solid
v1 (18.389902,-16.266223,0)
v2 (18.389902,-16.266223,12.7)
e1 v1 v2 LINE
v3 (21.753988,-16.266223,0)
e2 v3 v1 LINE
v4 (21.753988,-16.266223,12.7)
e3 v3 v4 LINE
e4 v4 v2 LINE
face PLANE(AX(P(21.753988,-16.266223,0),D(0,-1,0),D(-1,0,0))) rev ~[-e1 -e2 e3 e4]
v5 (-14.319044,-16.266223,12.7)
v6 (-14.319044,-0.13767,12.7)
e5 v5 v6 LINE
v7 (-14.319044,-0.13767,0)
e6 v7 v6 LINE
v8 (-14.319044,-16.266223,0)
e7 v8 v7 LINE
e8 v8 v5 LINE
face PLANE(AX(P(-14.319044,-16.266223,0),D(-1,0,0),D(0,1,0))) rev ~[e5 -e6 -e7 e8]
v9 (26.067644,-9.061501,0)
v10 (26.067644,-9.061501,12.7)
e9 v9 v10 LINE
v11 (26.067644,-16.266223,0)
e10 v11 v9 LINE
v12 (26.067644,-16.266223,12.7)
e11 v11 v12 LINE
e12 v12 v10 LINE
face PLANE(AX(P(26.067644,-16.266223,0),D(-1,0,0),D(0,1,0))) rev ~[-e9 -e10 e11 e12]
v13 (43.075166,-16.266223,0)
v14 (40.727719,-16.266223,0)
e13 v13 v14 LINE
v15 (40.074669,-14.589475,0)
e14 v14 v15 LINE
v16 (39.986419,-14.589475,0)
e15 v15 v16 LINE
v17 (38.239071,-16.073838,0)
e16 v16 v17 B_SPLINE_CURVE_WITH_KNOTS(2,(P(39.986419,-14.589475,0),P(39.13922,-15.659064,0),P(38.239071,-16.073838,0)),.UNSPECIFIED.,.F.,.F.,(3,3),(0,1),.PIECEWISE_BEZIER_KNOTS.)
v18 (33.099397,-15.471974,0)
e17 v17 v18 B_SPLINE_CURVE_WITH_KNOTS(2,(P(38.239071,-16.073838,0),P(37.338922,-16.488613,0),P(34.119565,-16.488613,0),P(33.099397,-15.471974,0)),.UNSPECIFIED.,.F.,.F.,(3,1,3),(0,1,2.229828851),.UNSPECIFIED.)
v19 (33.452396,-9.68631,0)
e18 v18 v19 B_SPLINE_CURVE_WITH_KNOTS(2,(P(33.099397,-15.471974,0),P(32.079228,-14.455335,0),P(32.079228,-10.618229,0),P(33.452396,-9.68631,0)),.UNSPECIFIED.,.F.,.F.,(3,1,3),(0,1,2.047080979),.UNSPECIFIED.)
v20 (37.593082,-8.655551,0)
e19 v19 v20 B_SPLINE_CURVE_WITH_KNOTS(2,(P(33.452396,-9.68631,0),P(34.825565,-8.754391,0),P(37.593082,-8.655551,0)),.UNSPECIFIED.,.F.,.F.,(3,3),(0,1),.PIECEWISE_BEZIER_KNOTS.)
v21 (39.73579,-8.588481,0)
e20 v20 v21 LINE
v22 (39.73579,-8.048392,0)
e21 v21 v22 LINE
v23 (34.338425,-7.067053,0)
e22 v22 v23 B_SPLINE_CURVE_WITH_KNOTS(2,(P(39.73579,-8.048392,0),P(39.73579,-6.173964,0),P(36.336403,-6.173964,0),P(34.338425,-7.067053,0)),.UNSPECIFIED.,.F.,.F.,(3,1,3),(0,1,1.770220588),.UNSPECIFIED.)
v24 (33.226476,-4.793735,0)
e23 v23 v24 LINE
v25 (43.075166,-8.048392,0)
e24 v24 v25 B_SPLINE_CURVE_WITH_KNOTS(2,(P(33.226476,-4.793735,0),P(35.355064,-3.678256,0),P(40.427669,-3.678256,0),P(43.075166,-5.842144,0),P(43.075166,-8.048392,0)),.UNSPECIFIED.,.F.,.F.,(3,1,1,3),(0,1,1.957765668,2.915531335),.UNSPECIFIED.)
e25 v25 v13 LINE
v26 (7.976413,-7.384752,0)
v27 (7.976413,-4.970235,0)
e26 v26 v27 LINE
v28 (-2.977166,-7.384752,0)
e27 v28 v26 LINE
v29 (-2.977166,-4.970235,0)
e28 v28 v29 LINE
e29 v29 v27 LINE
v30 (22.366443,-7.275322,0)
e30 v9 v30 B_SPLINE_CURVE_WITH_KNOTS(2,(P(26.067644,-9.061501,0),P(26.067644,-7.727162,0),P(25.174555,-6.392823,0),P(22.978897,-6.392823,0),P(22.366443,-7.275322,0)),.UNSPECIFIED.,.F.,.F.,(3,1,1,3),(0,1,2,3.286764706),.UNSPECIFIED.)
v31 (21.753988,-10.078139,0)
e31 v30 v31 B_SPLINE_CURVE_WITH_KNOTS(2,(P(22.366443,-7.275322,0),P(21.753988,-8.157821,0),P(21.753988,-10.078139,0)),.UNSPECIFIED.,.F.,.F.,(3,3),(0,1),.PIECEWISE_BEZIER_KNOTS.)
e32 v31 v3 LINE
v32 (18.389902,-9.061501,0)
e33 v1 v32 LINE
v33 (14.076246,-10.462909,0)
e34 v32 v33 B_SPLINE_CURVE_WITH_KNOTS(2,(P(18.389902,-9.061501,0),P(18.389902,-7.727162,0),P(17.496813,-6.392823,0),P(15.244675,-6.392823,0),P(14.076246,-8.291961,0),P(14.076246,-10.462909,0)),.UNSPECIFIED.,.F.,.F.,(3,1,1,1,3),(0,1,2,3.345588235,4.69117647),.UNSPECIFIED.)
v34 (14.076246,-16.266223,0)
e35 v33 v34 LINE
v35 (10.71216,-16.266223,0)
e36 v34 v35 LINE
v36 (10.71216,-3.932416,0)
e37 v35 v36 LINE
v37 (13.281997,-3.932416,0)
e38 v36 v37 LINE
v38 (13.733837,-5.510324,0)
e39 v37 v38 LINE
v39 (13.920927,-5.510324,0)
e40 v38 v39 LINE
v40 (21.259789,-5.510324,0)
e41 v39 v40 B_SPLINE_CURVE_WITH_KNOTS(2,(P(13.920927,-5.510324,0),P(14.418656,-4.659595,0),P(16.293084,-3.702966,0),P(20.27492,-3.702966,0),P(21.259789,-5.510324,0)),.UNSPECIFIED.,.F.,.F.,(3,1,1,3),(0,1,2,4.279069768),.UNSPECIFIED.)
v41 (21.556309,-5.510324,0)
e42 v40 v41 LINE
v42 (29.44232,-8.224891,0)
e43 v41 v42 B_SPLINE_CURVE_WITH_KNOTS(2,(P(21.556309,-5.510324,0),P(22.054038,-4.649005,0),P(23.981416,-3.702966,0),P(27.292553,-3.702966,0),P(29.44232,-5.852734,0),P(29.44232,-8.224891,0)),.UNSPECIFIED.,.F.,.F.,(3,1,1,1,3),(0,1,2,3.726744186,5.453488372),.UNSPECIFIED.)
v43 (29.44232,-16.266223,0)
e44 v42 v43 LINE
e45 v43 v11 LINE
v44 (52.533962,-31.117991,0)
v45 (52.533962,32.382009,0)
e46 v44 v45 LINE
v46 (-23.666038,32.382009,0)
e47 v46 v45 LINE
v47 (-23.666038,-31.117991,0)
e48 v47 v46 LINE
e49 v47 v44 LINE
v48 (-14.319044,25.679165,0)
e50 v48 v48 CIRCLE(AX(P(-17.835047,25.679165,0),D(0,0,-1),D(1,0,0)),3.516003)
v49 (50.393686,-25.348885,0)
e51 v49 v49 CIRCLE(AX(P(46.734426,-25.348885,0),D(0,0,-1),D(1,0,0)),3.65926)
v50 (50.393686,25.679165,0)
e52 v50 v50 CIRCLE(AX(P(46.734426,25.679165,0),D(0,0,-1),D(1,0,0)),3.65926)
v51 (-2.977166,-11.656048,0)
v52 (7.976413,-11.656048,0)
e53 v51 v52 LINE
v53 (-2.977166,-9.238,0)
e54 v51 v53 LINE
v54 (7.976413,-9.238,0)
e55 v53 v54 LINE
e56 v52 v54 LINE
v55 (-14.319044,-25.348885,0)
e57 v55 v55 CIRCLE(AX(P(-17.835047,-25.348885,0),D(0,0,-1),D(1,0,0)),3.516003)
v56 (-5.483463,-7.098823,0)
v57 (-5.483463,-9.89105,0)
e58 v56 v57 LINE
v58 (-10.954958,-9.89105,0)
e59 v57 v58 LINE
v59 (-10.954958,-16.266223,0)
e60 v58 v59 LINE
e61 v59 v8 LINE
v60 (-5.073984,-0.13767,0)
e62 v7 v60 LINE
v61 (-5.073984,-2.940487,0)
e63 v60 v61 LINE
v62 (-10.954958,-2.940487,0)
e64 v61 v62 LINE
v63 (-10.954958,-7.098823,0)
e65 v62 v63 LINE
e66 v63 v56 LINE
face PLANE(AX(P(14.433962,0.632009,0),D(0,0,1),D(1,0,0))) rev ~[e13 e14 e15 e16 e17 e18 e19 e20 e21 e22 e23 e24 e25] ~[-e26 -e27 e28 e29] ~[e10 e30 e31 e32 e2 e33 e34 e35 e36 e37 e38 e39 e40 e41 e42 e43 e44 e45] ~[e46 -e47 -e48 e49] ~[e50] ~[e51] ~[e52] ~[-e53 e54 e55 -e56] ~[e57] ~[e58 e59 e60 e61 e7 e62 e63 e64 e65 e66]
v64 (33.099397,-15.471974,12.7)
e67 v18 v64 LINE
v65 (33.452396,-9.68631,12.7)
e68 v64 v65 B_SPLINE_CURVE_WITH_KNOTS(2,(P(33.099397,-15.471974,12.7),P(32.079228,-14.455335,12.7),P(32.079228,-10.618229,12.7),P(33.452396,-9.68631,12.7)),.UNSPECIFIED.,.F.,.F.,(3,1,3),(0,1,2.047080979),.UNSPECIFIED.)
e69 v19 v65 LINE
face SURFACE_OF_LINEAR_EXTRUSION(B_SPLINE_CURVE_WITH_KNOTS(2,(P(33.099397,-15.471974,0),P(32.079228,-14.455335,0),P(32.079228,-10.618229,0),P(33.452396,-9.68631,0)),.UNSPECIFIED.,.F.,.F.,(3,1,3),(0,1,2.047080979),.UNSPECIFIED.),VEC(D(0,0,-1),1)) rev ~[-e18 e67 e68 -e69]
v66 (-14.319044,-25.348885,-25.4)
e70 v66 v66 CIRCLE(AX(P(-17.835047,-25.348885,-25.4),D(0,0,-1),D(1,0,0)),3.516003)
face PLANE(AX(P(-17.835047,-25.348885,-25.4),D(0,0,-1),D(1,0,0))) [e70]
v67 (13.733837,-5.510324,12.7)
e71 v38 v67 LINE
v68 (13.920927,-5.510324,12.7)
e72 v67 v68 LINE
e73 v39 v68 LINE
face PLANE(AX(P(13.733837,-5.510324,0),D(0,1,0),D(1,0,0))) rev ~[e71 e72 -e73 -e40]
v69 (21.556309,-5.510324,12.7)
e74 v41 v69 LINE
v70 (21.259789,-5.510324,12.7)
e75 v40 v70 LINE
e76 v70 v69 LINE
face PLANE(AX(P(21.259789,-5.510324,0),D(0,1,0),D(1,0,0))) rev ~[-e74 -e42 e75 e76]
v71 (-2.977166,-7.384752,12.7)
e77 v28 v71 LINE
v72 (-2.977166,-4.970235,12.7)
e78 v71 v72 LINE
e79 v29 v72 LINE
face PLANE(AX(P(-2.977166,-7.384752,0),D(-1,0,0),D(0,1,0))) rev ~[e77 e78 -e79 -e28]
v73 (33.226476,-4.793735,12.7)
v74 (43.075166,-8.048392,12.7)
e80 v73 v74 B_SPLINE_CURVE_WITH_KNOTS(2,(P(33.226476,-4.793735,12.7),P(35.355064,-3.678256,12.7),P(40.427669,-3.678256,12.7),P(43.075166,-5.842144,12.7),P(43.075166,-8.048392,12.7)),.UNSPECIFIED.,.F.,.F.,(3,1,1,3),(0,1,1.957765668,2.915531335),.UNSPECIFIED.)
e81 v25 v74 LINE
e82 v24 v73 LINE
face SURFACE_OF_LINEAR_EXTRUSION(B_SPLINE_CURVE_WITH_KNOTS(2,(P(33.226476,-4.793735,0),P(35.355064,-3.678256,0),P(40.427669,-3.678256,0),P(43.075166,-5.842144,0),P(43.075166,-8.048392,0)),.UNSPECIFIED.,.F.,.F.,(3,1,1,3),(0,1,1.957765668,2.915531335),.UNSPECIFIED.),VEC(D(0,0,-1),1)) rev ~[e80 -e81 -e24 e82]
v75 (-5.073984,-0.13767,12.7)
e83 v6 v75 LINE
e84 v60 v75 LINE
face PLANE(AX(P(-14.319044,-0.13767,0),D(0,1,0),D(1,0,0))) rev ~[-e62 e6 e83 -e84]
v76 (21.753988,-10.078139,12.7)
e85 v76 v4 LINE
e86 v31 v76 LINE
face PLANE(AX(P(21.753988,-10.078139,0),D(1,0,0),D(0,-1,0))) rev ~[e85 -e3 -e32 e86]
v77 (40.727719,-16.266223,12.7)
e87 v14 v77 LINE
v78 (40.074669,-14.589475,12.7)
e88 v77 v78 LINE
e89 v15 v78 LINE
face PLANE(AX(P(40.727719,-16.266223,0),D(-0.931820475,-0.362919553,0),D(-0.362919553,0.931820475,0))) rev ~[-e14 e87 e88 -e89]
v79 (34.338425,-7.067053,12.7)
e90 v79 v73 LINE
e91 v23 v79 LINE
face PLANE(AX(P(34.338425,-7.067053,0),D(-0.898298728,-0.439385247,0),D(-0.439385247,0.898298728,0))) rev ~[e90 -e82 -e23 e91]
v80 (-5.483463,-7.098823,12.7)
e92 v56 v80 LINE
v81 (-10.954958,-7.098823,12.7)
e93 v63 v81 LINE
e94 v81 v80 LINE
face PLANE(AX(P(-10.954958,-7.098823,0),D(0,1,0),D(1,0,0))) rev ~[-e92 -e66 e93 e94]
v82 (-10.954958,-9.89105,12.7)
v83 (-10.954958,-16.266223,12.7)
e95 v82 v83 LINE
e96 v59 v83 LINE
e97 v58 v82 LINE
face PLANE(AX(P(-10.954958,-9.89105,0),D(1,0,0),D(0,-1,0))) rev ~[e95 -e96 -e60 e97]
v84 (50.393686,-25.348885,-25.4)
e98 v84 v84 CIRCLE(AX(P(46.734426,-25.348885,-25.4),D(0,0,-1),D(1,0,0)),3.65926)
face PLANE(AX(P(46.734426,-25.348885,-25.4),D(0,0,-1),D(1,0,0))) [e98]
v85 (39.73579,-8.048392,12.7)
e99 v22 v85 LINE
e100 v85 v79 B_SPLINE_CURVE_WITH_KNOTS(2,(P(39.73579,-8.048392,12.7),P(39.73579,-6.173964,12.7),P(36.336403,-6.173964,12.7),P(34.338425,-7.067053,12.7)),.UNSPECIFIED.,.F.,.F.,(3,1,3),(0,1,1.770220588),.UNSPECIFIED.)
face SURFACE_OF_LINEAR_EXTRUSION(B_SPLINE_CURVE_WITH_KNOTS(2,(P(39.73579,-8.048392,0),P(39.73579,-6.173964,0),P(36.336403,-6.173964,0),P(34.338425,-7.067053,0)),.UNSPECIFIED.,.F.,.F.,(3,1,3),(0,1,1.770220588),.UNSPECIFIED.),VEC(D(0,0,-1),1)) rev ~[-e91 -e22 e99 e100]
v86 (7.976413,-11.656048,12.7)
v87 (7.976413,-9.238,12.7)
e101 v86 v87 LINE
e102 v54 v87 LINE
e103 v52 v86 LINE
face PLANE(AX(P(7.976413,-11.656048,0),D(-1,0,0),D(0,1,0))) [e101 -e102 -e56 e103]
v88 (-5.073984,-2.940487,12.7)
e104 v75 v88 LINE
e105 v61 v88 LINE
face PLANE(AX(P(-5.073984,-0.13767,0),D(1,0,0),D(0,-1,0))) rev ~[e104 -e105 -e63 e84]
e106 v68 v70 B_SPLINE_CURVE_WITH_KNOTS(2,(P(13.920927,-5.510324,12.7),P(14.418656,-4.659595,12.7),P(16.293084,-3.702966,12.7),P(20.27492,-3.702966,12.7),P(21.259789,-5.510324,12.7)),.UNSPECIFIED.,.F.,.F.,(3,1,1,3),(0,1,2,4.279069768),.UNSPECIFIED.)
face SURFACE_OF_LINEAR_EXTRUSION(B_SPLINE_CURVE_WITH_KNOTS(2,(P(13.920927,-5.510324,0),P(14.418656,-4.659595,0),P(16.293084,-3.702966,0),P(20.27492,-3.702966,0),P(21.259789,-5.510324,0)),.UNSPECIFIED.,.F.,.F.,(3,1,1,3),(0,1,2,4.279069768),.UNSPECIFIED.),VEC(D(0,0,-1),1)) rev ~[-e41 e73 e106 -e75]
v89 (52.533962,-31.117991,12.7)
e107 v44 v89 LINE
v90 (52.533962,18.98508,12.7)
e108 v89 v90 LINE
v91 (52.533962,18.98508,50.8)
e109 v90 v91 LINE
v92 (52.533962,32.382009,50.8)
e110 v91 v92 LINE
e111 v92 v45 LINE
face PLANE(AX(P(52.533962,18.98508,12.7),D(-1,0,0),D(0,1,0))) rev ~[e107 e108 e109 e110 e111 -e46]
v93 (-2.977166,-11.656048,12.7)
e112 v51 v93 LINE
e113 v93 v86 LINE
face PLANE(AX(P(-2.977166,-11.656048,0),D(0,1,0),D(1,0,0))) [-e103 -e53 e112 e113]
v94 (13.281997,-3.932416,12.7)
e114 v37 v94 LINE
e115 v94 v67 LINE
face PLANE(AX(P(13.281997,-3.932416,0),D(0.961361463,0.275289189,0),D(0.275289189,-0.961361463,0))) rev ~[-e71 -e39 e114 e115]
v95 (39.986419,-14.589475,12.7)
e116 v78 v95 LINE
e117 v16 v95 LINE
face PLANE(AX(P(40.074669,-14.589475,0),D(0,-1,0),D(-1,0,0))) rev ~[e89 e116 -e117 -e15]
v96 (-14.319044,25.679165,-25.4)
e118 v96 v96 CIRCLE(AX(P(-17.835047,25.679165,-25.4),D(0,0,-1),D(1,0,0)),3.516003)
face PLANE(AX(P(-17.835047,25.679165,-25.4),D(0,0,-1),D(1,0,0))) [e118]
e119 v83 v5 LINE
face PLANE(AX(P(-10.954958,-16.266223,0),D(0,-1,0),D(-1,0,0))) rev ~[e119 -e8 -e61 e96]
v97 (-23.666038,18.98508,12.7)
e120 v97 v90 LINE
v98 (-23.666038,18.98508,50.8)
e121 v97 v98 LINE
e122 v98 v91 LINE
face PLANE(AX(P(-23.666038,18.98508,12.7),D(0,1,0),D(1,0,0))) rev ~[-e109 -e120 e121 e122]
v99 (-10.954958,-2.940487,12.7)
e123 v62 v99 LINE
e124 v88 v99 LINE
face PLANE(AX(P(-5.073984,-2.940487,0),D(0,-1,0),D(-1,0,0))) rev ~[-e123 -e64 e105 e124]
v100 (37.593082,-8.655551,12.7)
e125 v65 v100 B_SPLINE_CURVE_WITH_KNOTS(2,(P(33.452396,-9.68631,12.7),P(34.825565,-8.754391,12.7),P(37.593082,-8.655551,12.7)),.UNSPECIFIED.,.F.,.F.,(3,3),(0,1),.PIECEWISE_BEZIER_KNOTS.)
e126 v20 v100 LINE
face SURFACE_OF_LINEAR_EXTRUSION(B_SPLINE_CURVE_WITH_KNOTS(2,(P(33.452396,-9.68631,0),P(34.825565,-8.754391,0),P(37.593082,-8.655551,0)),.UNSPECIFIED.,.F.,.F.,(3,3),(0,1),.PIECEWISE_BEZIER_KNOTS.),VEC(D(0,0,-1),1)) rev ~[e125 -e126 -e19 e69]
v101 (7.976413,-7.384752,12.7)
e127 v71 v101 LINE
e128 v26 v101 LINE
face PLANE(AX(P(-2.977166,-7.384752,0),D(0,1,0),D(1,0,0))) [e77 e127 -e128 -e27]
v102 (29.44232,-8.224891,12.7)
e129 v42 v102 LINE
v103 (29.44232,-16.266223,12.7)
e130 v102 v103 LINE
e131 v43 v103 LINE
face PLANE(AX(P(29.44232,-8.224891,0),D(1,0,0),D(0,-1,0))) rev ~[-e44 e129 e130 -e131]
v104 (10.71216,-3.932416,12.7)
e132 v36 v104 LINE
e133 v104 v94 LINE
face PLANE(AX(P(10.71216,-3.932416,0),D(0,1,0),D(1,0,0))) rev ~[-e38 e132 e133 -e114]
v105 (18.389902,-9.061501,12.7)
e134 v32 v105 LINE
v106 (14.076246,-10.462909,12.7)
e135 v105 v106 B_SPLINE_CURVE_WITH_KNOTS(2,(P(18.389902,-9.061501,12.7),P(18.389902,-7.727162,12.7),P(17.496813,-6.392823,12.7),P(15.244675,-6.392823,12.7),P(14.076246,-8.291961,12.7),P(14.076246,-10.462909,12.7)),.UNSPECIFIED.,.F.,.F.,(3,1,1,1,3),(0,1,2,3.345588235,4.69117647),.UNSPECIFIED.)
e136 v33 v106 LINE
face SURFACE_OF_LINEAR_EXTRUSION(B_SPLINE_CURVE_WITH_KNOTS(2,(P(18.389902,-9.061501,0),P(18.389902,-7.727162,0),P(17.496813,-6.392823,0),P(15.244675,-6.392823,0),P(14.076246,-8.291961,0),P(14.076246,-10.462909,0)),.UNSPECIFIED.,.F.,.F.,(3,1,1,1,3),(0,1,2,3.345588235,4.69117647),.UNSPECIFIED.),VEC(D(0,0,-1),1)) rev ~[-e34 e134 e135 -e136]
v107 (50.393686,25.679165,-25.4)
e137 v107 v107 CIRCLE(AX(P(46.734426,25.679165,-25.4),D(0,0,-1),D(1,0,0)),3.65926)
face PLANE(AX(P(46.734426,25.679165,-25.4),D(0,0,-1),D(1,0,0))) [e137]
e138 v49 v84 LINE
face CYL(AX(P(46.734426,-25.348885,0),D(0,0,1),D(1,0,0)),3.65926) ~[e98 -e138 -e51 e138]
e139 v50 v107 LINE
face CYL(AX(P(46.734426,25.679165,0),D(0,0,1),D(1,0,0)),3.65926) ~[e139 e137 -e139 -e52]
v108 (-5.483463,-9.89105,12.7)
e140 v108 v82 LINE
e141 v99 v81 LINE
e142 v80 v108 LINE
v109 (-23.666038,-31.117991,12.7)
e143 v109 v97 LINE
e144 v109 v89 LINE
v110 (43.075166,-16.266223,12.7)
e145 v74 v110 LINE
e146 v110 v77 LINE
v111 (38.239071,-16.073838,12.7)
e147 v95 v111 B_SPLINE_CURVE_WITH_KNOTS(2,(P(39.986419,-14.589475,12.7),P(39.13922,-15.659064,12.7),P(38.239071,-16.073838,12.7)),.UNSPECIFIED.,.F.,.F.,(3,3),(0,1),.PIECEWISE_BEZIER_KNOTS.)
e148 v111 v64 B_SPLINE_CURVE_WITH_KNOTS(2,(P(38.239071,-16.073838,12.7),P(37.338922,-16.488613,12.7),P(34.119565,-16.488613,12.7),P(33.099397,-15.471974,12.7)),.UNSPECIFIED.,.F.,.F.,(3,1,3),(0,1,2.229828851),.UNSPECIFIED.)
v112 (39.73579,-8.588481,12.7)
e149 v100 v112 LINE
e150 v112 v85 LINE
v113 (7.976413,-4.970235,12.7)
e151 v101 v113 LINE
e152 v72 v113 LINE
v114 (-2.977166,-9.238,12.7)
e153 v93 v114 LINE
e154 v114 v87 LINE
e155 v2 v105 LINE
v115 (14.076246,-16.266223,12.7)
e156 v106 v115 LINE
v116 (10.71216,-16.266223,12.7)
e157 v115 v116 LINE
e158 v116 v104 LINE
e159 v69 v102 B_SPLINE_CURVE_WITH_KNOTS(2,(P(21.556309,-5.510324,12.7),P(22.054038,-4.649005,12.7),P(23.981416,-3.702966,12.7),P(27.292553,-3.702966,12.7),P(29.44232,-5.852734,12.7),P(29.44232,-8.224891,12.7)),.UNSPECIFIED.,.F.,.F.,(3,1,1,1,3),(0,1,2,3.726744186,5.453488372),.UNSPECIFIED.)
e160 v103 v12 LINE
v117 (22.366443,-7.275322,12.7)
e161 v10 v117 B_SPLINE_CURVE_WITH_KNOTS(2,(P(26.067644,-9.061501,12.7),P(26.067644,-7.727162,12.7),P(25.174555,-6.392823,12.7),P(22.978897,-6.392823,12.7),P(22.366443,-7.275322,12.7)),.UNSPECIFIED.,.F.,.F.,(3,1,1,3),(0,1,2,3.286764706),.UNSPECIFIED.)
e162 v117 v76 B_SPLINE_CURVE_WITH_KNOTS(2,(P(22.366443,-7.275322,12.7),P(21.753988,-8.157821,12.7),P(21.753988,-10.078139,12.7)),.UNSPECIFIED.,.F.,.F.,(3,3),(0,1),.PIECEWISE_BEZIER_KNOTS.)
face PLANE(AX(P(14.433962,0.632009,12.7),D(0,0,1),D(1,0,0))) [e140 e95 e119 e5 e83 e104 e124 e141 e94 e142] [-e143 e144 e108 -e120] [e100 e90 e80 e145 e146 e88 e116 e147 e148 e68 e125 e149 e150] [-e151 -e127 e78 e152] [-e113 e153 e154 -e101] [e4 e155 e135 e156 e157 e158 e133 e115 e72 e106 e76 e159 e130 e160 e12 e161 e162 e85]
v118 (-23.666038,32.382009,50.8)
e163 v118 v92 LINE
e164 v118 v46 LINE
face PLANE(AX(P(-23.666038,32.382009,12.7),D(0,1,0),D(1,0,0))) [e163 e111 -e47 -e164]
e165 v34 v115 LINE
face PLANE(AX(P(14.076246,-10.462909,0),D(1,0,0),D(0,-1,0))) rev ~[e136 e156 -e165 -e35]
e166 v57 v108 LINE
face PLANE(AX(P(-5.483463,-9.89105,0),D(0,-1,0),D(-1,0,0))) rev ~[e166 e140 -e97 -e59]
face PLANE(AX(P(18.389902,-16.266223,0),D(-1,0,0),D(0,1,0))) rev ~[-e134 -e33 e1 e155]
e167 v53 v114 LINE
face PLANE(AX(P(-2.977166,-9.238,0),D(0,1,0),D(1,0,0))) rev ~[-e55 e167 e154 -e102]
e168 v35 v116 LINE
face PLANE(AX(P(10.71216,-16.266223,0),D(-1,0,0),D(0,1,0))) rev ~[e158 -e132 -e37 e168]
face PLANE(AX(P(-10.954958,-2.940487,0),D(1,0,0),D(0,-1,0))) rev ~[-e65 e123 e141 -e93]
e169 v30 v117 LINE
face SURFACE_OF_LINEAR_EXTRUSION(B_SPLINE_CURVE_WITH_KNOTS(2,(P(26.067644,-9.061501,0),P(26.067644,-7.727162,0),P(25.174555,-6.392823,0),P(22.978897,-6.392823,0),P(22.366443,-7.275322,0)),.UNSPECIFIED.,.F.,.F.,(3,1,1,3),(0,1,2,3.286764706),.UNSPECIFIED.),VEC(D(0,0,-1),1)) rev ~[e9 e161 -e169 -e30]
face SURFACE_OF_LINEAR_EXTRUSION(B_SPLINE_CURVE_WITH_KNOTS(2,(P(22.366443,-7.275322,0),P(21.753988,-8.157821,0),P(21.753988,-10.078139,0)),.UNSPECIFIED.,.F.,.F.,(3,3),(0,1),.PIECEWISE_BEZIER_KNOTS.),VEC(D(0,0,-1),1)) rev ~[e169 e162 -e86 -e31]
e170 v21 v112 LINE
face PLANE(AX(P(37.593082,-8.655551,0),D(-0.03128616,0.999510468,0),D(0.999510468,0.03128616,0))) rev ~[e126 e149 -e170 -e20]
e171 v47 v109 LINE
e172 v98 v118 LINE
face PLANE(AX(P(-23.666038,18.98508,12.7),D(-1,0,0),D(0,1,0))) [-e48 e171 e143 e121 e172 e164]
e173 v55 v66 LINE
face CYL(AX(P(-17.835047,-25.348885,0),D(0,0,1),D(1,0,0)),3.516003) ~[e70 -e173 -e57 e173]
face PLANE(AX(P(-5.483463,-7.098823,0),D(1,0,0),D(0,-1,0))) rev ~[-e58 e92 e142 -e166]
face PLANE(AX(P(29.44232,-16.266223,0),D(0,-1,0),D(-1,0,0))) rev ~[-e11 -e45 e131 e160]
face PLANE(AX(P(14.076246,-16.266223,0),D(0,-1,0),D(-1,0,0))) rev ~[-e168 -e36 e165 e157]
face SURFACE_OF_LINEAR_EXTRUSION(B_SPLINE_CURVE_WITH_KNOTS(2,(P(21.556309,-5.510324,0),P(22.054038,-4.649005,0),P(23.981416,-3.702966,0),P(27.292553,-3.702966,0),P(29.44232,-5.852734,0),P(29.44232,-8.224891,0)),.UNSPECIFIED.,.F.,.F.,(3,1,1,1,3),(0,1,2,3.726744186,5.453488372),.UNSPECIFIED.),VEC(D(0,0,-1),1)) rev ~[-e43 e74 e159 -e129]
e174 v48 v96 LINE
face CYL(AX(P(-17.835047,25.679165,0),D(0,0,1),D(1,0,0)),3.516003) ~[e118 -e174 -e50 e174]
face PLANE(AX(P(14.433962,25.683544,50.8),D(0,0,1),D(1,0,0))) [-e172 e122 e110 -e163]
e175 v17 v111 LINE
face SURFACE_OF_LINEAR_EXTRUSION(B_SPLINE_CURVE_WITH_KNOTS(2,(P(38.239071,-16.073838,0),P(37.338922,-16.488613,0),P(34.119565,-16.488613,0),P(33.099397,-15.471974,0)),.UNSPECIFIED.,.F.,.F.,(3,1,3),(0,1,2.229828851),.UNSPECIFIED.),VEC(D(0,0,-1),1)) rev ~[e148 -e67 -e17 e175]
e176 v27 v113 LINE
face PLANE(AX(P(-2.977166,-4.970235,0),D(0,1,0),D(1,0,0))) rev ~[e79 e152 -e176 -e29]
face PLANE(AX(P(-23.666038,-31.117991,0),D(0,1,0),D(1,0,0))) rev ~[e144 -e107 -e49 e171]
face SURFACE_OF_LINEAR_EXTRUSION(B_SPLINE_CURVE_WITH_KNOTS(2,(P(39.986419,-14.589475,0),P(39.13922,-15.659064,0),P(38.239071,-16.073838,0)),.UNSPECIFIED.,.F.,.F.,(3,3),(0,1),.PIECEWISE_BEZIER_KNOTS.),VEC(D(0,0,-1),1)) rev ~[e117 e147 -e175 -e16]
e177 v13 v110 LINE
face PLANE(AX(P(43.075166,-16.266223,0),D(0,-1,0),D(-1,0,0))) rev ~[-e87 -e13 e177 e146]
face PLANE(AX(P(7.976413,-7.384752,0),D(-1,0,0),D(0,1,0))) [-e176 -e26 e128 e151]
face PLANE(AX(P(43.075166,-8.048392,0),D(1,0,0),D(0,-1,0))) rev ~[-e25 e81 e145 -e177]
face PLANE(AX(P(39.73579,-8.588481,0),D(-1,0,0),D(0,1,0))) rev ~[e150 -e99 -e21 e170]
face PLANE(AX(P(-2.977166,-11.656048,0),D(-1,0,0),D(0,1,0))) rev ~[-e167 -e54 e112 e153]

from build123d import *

# Parameters (mm, degrees)
F0_W     = 76.2
F0_H     = 63.5
F0_W_2   = 10.9535785814
F0_H_2   = 2.4180474793
F0_H_3   = 2.414517483
F1_DEPTH = 12.7
F2_W     = 76.2
F2_H     = 13.3969295336
F3_DEPTH = 38.1
F4_R     = 3.6592600081
F4_R_2   = 3.5160030893
F5_DEPTH = 25.4


with BuildPart() as f1:
    # F0 (on Top) → F1 (new body)
    with BuildSketch(Plane.XY):
        with Locations((14.4339624465, 0.632009135)):
            Rectangle(F0_W, F0_H)
        Polygon((-10.9549575136, -9.891049689), (-10.9549575136, -16.2662230432), (-14.3190440067, -16.2662230432), (-14.3190440067, -0.1376698565), (-5.0739836443, -0.1376698565), (-5.0739836443, -2.9404869347), (-10.9549575136, -2.9404869347), (-10.9549575136, -7.0988225998), (-5.4834632174, -7.0988225998), (-5.4834632174, -9.891049689), align=None, mode=Mode.SUBTRACT)
        with Locations((2.4996234606, -10.4470241095)):
            Rectangle(F0_W_2, F0_H_2, mode=Mode.SUBTRACT)
        with Locations((2.4996234606, -6.1774935602)):
            Rectangle(F0_W_2, F0_H_3, mode=Mode.SUBTRACT)
        with BuildLine():
            Line((21.7539883888, -10.078139494), (21.7539883888, -16.2662230432))
            Line((21.7539883888, -16.2662230432), (18.3899018957, -16.2662230432))
            Line((18.3899018957, -16.2662230432), (18.3899018957, -9.0615005538))
            add(Edge.make_bspline(
                [(18.3899018957, -9.0615005538), (18.3899018957, -7.7271619448), (17.9433573612, -7.0599926403)],
                knots=[0, 0, 0, 1, 1, 1], degree=2))
            add(Edge.make_bspline(
                [(17.9433573612, -7.0599926403), (17.4968128267, -6.3928233358), (16.5366538276, -6.3928233358)],
                knots=[0, 0, 0, 1, 1, 1], degree=2))
            add(Edge.make_bspline(
                [(16.5366538276, -6.3928233358), (15.2446751745, -6.3928233358), (14.6604607835, -7.3423923459)],
                knots=[0, 0, 0, 1, 1, 1], degree=2))
            add(Edge.make_bspline(
                [(14.6604607835, -7.3423923459), (14.0762463925, -8.291961356), (14.0762463925, -10.4629090929)],
                knots=[0, 0, 0, 1, 1, 1], degree=2))
            Line((14.0762463925, -10.4629090929), (14.0762463925, -16.2662230432))
            Line((14.0762463925, -16.2662230432), (10.7121598994, -16.2662230432))
            Line((10.7121598994, -16.2662230432), (10.7121598994, -3.9324159006))
            Line((10.7121598994, -3.9324159006), (13.2819972205, -3.9324159006))
            Line((13.2819972205, -3.9324159006), (13.7338367495, -5.5103242557))
            Line((13.7338367495, -5.5103242557), (13.9209265544, -5.5103242557))
            add(Edge.make_bspline(
                [(13.9209265544, -5.5103242557), (14.4186560356, -4.6595951426), (15.3558700586, -4.1812806412)],
                knots=[0, 0, 0, 1, 1, 1], degree=2))
            add(Edge.make_bspline(
                [(15.3558700586, -4.1812806412), (16.2930840816, -3.7029661398), (17.5074028157, -3.7029661398)],
                knots=[0, 0, 0, 1, 1, 1], degree=2))
            add(Edge.make_bspline(
                [(17.5074028157, -3.7029661398), (20.2749199307, -3.7029661398), (21.259788904, -5.5103242557)],
                knots=[0, 0, 0, 1, 1, 1], degree=2))
            Line((21.259788904, -5.5103242557), (21.5563085949, -5.5103242557))
            add(Edge.make_bspline(
                [(21.5563085949, -5.5103242557), (22.054038076, -4.6490051536), (23.0177270714, -4.1759856467)],
                knots=[0, 0, 0, 1, 1, 1], degree=2))
            add(Edge.make_bspline(
                [(23.0177270714, -4.1759856467), (23.9814160668, -3.7029661398), (25.1957348009, -3.7029661398)],
                knots=[0, 0, 0, 1, 1, 1], degree=2))
            add(Edge.make_bspline(
                [(25.1957348009, -3.7029661398), (27.2925526151, -3.7029661398), (28.3674364946, -4.7778500193)],
                knots=[0, 0, 0, 1, 1, 1], degree=2))
            add(Edge.make_bspline(
                [(28.3674364946, -4.7778500193), (29.4423203741, -5.8527338988), (29.4423203741, -8.2248914259)],
                knots=[0, 0, 0, 1, 1, 1], degree=2))
            Line((29.4423203741, -8.2248914259), (29.4423203741, -16.2662230432))
            Line((29.4423203741, -16.2662230432), (26.067643892, -16.2662230432))
            Line((26.067643892, -16.2662230432), (26.067643892, -9.0615005538))
            add(Edge.make_bspline(
                [(26.067643892, -9.0615005538), (26.067643892, -7.7271619448), (25.6210993575, -7.0599926403)],
                knots=[0, 0, 0, 1, 1, 1], degree=2))
            add(Edge.make_bspline(
                [(25.6210993575, -7.0599926403), (25.174554823, -6.3928233358), (24.2143958239, -6.3928233358)],
                knots=[0, 0, 0, 1, 1, 1], degree=2))
            add(Edge.make_bspline(
                [(24.2143958239, -6.3928233358), (22.9788971119, -6.3928233358), (22.3664427504, -7.2753224158)],
                knots=[0, 0, 0, 1, 1, 1], degree=2))
            add(Edge.make_bspline(
                [(22.3664427504, -7.2753224158), (21.7539883888, -8.1578214958), (21.7539883888, -10.078139494)],
                knots=[0, 0, 0, 1, 1, 1], degree=2))
        make_face(mode=Mode.SUBTRACT)
        with BuildLine():
            Line((43.0751661625, -16.2662230432), (40.7277186096, -16.2662230432))
            Line((40.7277186096, -16.2662230432), (40.0746692903, -14.5894747911))
            Line((40.0746692903, -14.5894747911), (39.9864193823, -14.5894747911))
            add(Edge.make_bspline(
                [(39.9864193823, -14.5894747911), (39.1392202655, -15.6590636761), (38.2390712039, -16.0738382438)],
                knots=[0, 0, 0, 1, 1, 1], degree=2))
            add(Edge.make_bspline(
                [(38.2390712039, -16.0738382438), (37.3389221422, -16.4886128114), (35.8951536473, -16.4886128114)],
                knots=[0, 0, 0, 1, 1, 1], degree=2))
            add(Edge.make_bspline(
                [(35.8951536473, -16.4886128114), (34.1195654983, -16.4886128114), (33.0993965617, -15.4719738712)],
                knots=[0, 0, 0, 1, 1, 1], degree=2))
            add(Edge.make_bspline(
                [(33.0993965617, -15.4719738712), (32.0792276252, -14.455334931), (32.0792276252, -12.580906885)],
                knots=[0, 0, 0, 1, 1, 1], degree=2))
            add(Edge.make_bspline(
                [(32.0792276252, -12.580906885), (32.0792276252, -10.618228931), (33.4523961938, -9.6863099025)],
                knots=[0, 0, 0, 1, 1, 1], degree=2))
            add(Edge.make_bspline(
                [(33.4523961938, -9.6863099025), (34.8255647623, -8.7543908739), (37.5930818773, -8.655550977)],
                knots=[0, 0, 0, 1, 1, 1], degree=2))
            Line((37.5930818773, -8.655550977), (39.7357896436, -8.5884810469))
            Line((39.7357896436, -8.5884810469), (39.7357896436, -8.0483916099))
            add(Edge.make_bspline(
                [(39.7357896436, -8.0483916099), (39.7357896436, -6.1739635639), (37.8154716454, -6.1739635639)],
                knots=[0, 0, 0, 1, 1, 1], degree=2))
            add(Edge.make_bspline(
                [(37.8154716454, -6.1739635639), (36.3364031873, -6.1739635639), (34.3384252701, -7.0670526329)],
                knots=[0, 0, 0, 1, 1, 1], degree=2))
            Line((34.3384252701, -7.0670526329), (33.2264764293, -4.7937350027))
            add(Edge.make_bspline(
                [(33.2264764293, -4.7937350027), (35.3550642103, -3.6782561656), (37.9460815093, -3.6782561656)],
                knots=[0, 0, 0, 1, 1, 1], degree=2))
            add(Edge.make_bspline(
                [(37.9460815093, -3.6782561656), (40.4276689223, -3.6782561656), (41.7514175424, -4.7602000377)],
                knots=[0, 0, 0, 1, 1, 1], degree=2))
            add(Edge.make_bspline(
                [(41.7514175424, -4.7602000377), (43.0751661625, -5.8421439098), (43.0751661625, -8.0483916099)],
                knots=[0, 0, 0, 1, 1, 1], degree=2))
            Line((43.0751661625, -8.0483916099), (43.0751661625, -16.2662230432))
        make_face(mode=Mode.SUBTRACT)
    extrude(amount=F1_DEPTH)

    # F2 (on face) → F3 (join)
    with BuildSketch(Plane.XY.offset(12.7)):
        with Locations((14.4339624465, 25.6835443682)):
            Rectangle(F2_W, F2_H)
    extrude(amount=F3_DEPTH)

    # F4 (on face) → F5 (join)
    with BuildSketch(Plane(origin=(0, 0, 0), x_dir=(1, 0, 0), z_dir=(0, 0, -1))):
        with Locations((46.7344261706, -25.6791654974)):
            Circle(F4_R)
        with Locations((46.7344261706, 25.3488849849)):
            Circle(F4_R)
        with Locations((-17.835047096, -25.6791654974)):
            Circle(F4_R_2)
        with Locations((-17.835047096, 25.3488849849)):
            Circle(F4_R_2)
    extrude(amount=F5_DEPTH)


solid = f1.part
